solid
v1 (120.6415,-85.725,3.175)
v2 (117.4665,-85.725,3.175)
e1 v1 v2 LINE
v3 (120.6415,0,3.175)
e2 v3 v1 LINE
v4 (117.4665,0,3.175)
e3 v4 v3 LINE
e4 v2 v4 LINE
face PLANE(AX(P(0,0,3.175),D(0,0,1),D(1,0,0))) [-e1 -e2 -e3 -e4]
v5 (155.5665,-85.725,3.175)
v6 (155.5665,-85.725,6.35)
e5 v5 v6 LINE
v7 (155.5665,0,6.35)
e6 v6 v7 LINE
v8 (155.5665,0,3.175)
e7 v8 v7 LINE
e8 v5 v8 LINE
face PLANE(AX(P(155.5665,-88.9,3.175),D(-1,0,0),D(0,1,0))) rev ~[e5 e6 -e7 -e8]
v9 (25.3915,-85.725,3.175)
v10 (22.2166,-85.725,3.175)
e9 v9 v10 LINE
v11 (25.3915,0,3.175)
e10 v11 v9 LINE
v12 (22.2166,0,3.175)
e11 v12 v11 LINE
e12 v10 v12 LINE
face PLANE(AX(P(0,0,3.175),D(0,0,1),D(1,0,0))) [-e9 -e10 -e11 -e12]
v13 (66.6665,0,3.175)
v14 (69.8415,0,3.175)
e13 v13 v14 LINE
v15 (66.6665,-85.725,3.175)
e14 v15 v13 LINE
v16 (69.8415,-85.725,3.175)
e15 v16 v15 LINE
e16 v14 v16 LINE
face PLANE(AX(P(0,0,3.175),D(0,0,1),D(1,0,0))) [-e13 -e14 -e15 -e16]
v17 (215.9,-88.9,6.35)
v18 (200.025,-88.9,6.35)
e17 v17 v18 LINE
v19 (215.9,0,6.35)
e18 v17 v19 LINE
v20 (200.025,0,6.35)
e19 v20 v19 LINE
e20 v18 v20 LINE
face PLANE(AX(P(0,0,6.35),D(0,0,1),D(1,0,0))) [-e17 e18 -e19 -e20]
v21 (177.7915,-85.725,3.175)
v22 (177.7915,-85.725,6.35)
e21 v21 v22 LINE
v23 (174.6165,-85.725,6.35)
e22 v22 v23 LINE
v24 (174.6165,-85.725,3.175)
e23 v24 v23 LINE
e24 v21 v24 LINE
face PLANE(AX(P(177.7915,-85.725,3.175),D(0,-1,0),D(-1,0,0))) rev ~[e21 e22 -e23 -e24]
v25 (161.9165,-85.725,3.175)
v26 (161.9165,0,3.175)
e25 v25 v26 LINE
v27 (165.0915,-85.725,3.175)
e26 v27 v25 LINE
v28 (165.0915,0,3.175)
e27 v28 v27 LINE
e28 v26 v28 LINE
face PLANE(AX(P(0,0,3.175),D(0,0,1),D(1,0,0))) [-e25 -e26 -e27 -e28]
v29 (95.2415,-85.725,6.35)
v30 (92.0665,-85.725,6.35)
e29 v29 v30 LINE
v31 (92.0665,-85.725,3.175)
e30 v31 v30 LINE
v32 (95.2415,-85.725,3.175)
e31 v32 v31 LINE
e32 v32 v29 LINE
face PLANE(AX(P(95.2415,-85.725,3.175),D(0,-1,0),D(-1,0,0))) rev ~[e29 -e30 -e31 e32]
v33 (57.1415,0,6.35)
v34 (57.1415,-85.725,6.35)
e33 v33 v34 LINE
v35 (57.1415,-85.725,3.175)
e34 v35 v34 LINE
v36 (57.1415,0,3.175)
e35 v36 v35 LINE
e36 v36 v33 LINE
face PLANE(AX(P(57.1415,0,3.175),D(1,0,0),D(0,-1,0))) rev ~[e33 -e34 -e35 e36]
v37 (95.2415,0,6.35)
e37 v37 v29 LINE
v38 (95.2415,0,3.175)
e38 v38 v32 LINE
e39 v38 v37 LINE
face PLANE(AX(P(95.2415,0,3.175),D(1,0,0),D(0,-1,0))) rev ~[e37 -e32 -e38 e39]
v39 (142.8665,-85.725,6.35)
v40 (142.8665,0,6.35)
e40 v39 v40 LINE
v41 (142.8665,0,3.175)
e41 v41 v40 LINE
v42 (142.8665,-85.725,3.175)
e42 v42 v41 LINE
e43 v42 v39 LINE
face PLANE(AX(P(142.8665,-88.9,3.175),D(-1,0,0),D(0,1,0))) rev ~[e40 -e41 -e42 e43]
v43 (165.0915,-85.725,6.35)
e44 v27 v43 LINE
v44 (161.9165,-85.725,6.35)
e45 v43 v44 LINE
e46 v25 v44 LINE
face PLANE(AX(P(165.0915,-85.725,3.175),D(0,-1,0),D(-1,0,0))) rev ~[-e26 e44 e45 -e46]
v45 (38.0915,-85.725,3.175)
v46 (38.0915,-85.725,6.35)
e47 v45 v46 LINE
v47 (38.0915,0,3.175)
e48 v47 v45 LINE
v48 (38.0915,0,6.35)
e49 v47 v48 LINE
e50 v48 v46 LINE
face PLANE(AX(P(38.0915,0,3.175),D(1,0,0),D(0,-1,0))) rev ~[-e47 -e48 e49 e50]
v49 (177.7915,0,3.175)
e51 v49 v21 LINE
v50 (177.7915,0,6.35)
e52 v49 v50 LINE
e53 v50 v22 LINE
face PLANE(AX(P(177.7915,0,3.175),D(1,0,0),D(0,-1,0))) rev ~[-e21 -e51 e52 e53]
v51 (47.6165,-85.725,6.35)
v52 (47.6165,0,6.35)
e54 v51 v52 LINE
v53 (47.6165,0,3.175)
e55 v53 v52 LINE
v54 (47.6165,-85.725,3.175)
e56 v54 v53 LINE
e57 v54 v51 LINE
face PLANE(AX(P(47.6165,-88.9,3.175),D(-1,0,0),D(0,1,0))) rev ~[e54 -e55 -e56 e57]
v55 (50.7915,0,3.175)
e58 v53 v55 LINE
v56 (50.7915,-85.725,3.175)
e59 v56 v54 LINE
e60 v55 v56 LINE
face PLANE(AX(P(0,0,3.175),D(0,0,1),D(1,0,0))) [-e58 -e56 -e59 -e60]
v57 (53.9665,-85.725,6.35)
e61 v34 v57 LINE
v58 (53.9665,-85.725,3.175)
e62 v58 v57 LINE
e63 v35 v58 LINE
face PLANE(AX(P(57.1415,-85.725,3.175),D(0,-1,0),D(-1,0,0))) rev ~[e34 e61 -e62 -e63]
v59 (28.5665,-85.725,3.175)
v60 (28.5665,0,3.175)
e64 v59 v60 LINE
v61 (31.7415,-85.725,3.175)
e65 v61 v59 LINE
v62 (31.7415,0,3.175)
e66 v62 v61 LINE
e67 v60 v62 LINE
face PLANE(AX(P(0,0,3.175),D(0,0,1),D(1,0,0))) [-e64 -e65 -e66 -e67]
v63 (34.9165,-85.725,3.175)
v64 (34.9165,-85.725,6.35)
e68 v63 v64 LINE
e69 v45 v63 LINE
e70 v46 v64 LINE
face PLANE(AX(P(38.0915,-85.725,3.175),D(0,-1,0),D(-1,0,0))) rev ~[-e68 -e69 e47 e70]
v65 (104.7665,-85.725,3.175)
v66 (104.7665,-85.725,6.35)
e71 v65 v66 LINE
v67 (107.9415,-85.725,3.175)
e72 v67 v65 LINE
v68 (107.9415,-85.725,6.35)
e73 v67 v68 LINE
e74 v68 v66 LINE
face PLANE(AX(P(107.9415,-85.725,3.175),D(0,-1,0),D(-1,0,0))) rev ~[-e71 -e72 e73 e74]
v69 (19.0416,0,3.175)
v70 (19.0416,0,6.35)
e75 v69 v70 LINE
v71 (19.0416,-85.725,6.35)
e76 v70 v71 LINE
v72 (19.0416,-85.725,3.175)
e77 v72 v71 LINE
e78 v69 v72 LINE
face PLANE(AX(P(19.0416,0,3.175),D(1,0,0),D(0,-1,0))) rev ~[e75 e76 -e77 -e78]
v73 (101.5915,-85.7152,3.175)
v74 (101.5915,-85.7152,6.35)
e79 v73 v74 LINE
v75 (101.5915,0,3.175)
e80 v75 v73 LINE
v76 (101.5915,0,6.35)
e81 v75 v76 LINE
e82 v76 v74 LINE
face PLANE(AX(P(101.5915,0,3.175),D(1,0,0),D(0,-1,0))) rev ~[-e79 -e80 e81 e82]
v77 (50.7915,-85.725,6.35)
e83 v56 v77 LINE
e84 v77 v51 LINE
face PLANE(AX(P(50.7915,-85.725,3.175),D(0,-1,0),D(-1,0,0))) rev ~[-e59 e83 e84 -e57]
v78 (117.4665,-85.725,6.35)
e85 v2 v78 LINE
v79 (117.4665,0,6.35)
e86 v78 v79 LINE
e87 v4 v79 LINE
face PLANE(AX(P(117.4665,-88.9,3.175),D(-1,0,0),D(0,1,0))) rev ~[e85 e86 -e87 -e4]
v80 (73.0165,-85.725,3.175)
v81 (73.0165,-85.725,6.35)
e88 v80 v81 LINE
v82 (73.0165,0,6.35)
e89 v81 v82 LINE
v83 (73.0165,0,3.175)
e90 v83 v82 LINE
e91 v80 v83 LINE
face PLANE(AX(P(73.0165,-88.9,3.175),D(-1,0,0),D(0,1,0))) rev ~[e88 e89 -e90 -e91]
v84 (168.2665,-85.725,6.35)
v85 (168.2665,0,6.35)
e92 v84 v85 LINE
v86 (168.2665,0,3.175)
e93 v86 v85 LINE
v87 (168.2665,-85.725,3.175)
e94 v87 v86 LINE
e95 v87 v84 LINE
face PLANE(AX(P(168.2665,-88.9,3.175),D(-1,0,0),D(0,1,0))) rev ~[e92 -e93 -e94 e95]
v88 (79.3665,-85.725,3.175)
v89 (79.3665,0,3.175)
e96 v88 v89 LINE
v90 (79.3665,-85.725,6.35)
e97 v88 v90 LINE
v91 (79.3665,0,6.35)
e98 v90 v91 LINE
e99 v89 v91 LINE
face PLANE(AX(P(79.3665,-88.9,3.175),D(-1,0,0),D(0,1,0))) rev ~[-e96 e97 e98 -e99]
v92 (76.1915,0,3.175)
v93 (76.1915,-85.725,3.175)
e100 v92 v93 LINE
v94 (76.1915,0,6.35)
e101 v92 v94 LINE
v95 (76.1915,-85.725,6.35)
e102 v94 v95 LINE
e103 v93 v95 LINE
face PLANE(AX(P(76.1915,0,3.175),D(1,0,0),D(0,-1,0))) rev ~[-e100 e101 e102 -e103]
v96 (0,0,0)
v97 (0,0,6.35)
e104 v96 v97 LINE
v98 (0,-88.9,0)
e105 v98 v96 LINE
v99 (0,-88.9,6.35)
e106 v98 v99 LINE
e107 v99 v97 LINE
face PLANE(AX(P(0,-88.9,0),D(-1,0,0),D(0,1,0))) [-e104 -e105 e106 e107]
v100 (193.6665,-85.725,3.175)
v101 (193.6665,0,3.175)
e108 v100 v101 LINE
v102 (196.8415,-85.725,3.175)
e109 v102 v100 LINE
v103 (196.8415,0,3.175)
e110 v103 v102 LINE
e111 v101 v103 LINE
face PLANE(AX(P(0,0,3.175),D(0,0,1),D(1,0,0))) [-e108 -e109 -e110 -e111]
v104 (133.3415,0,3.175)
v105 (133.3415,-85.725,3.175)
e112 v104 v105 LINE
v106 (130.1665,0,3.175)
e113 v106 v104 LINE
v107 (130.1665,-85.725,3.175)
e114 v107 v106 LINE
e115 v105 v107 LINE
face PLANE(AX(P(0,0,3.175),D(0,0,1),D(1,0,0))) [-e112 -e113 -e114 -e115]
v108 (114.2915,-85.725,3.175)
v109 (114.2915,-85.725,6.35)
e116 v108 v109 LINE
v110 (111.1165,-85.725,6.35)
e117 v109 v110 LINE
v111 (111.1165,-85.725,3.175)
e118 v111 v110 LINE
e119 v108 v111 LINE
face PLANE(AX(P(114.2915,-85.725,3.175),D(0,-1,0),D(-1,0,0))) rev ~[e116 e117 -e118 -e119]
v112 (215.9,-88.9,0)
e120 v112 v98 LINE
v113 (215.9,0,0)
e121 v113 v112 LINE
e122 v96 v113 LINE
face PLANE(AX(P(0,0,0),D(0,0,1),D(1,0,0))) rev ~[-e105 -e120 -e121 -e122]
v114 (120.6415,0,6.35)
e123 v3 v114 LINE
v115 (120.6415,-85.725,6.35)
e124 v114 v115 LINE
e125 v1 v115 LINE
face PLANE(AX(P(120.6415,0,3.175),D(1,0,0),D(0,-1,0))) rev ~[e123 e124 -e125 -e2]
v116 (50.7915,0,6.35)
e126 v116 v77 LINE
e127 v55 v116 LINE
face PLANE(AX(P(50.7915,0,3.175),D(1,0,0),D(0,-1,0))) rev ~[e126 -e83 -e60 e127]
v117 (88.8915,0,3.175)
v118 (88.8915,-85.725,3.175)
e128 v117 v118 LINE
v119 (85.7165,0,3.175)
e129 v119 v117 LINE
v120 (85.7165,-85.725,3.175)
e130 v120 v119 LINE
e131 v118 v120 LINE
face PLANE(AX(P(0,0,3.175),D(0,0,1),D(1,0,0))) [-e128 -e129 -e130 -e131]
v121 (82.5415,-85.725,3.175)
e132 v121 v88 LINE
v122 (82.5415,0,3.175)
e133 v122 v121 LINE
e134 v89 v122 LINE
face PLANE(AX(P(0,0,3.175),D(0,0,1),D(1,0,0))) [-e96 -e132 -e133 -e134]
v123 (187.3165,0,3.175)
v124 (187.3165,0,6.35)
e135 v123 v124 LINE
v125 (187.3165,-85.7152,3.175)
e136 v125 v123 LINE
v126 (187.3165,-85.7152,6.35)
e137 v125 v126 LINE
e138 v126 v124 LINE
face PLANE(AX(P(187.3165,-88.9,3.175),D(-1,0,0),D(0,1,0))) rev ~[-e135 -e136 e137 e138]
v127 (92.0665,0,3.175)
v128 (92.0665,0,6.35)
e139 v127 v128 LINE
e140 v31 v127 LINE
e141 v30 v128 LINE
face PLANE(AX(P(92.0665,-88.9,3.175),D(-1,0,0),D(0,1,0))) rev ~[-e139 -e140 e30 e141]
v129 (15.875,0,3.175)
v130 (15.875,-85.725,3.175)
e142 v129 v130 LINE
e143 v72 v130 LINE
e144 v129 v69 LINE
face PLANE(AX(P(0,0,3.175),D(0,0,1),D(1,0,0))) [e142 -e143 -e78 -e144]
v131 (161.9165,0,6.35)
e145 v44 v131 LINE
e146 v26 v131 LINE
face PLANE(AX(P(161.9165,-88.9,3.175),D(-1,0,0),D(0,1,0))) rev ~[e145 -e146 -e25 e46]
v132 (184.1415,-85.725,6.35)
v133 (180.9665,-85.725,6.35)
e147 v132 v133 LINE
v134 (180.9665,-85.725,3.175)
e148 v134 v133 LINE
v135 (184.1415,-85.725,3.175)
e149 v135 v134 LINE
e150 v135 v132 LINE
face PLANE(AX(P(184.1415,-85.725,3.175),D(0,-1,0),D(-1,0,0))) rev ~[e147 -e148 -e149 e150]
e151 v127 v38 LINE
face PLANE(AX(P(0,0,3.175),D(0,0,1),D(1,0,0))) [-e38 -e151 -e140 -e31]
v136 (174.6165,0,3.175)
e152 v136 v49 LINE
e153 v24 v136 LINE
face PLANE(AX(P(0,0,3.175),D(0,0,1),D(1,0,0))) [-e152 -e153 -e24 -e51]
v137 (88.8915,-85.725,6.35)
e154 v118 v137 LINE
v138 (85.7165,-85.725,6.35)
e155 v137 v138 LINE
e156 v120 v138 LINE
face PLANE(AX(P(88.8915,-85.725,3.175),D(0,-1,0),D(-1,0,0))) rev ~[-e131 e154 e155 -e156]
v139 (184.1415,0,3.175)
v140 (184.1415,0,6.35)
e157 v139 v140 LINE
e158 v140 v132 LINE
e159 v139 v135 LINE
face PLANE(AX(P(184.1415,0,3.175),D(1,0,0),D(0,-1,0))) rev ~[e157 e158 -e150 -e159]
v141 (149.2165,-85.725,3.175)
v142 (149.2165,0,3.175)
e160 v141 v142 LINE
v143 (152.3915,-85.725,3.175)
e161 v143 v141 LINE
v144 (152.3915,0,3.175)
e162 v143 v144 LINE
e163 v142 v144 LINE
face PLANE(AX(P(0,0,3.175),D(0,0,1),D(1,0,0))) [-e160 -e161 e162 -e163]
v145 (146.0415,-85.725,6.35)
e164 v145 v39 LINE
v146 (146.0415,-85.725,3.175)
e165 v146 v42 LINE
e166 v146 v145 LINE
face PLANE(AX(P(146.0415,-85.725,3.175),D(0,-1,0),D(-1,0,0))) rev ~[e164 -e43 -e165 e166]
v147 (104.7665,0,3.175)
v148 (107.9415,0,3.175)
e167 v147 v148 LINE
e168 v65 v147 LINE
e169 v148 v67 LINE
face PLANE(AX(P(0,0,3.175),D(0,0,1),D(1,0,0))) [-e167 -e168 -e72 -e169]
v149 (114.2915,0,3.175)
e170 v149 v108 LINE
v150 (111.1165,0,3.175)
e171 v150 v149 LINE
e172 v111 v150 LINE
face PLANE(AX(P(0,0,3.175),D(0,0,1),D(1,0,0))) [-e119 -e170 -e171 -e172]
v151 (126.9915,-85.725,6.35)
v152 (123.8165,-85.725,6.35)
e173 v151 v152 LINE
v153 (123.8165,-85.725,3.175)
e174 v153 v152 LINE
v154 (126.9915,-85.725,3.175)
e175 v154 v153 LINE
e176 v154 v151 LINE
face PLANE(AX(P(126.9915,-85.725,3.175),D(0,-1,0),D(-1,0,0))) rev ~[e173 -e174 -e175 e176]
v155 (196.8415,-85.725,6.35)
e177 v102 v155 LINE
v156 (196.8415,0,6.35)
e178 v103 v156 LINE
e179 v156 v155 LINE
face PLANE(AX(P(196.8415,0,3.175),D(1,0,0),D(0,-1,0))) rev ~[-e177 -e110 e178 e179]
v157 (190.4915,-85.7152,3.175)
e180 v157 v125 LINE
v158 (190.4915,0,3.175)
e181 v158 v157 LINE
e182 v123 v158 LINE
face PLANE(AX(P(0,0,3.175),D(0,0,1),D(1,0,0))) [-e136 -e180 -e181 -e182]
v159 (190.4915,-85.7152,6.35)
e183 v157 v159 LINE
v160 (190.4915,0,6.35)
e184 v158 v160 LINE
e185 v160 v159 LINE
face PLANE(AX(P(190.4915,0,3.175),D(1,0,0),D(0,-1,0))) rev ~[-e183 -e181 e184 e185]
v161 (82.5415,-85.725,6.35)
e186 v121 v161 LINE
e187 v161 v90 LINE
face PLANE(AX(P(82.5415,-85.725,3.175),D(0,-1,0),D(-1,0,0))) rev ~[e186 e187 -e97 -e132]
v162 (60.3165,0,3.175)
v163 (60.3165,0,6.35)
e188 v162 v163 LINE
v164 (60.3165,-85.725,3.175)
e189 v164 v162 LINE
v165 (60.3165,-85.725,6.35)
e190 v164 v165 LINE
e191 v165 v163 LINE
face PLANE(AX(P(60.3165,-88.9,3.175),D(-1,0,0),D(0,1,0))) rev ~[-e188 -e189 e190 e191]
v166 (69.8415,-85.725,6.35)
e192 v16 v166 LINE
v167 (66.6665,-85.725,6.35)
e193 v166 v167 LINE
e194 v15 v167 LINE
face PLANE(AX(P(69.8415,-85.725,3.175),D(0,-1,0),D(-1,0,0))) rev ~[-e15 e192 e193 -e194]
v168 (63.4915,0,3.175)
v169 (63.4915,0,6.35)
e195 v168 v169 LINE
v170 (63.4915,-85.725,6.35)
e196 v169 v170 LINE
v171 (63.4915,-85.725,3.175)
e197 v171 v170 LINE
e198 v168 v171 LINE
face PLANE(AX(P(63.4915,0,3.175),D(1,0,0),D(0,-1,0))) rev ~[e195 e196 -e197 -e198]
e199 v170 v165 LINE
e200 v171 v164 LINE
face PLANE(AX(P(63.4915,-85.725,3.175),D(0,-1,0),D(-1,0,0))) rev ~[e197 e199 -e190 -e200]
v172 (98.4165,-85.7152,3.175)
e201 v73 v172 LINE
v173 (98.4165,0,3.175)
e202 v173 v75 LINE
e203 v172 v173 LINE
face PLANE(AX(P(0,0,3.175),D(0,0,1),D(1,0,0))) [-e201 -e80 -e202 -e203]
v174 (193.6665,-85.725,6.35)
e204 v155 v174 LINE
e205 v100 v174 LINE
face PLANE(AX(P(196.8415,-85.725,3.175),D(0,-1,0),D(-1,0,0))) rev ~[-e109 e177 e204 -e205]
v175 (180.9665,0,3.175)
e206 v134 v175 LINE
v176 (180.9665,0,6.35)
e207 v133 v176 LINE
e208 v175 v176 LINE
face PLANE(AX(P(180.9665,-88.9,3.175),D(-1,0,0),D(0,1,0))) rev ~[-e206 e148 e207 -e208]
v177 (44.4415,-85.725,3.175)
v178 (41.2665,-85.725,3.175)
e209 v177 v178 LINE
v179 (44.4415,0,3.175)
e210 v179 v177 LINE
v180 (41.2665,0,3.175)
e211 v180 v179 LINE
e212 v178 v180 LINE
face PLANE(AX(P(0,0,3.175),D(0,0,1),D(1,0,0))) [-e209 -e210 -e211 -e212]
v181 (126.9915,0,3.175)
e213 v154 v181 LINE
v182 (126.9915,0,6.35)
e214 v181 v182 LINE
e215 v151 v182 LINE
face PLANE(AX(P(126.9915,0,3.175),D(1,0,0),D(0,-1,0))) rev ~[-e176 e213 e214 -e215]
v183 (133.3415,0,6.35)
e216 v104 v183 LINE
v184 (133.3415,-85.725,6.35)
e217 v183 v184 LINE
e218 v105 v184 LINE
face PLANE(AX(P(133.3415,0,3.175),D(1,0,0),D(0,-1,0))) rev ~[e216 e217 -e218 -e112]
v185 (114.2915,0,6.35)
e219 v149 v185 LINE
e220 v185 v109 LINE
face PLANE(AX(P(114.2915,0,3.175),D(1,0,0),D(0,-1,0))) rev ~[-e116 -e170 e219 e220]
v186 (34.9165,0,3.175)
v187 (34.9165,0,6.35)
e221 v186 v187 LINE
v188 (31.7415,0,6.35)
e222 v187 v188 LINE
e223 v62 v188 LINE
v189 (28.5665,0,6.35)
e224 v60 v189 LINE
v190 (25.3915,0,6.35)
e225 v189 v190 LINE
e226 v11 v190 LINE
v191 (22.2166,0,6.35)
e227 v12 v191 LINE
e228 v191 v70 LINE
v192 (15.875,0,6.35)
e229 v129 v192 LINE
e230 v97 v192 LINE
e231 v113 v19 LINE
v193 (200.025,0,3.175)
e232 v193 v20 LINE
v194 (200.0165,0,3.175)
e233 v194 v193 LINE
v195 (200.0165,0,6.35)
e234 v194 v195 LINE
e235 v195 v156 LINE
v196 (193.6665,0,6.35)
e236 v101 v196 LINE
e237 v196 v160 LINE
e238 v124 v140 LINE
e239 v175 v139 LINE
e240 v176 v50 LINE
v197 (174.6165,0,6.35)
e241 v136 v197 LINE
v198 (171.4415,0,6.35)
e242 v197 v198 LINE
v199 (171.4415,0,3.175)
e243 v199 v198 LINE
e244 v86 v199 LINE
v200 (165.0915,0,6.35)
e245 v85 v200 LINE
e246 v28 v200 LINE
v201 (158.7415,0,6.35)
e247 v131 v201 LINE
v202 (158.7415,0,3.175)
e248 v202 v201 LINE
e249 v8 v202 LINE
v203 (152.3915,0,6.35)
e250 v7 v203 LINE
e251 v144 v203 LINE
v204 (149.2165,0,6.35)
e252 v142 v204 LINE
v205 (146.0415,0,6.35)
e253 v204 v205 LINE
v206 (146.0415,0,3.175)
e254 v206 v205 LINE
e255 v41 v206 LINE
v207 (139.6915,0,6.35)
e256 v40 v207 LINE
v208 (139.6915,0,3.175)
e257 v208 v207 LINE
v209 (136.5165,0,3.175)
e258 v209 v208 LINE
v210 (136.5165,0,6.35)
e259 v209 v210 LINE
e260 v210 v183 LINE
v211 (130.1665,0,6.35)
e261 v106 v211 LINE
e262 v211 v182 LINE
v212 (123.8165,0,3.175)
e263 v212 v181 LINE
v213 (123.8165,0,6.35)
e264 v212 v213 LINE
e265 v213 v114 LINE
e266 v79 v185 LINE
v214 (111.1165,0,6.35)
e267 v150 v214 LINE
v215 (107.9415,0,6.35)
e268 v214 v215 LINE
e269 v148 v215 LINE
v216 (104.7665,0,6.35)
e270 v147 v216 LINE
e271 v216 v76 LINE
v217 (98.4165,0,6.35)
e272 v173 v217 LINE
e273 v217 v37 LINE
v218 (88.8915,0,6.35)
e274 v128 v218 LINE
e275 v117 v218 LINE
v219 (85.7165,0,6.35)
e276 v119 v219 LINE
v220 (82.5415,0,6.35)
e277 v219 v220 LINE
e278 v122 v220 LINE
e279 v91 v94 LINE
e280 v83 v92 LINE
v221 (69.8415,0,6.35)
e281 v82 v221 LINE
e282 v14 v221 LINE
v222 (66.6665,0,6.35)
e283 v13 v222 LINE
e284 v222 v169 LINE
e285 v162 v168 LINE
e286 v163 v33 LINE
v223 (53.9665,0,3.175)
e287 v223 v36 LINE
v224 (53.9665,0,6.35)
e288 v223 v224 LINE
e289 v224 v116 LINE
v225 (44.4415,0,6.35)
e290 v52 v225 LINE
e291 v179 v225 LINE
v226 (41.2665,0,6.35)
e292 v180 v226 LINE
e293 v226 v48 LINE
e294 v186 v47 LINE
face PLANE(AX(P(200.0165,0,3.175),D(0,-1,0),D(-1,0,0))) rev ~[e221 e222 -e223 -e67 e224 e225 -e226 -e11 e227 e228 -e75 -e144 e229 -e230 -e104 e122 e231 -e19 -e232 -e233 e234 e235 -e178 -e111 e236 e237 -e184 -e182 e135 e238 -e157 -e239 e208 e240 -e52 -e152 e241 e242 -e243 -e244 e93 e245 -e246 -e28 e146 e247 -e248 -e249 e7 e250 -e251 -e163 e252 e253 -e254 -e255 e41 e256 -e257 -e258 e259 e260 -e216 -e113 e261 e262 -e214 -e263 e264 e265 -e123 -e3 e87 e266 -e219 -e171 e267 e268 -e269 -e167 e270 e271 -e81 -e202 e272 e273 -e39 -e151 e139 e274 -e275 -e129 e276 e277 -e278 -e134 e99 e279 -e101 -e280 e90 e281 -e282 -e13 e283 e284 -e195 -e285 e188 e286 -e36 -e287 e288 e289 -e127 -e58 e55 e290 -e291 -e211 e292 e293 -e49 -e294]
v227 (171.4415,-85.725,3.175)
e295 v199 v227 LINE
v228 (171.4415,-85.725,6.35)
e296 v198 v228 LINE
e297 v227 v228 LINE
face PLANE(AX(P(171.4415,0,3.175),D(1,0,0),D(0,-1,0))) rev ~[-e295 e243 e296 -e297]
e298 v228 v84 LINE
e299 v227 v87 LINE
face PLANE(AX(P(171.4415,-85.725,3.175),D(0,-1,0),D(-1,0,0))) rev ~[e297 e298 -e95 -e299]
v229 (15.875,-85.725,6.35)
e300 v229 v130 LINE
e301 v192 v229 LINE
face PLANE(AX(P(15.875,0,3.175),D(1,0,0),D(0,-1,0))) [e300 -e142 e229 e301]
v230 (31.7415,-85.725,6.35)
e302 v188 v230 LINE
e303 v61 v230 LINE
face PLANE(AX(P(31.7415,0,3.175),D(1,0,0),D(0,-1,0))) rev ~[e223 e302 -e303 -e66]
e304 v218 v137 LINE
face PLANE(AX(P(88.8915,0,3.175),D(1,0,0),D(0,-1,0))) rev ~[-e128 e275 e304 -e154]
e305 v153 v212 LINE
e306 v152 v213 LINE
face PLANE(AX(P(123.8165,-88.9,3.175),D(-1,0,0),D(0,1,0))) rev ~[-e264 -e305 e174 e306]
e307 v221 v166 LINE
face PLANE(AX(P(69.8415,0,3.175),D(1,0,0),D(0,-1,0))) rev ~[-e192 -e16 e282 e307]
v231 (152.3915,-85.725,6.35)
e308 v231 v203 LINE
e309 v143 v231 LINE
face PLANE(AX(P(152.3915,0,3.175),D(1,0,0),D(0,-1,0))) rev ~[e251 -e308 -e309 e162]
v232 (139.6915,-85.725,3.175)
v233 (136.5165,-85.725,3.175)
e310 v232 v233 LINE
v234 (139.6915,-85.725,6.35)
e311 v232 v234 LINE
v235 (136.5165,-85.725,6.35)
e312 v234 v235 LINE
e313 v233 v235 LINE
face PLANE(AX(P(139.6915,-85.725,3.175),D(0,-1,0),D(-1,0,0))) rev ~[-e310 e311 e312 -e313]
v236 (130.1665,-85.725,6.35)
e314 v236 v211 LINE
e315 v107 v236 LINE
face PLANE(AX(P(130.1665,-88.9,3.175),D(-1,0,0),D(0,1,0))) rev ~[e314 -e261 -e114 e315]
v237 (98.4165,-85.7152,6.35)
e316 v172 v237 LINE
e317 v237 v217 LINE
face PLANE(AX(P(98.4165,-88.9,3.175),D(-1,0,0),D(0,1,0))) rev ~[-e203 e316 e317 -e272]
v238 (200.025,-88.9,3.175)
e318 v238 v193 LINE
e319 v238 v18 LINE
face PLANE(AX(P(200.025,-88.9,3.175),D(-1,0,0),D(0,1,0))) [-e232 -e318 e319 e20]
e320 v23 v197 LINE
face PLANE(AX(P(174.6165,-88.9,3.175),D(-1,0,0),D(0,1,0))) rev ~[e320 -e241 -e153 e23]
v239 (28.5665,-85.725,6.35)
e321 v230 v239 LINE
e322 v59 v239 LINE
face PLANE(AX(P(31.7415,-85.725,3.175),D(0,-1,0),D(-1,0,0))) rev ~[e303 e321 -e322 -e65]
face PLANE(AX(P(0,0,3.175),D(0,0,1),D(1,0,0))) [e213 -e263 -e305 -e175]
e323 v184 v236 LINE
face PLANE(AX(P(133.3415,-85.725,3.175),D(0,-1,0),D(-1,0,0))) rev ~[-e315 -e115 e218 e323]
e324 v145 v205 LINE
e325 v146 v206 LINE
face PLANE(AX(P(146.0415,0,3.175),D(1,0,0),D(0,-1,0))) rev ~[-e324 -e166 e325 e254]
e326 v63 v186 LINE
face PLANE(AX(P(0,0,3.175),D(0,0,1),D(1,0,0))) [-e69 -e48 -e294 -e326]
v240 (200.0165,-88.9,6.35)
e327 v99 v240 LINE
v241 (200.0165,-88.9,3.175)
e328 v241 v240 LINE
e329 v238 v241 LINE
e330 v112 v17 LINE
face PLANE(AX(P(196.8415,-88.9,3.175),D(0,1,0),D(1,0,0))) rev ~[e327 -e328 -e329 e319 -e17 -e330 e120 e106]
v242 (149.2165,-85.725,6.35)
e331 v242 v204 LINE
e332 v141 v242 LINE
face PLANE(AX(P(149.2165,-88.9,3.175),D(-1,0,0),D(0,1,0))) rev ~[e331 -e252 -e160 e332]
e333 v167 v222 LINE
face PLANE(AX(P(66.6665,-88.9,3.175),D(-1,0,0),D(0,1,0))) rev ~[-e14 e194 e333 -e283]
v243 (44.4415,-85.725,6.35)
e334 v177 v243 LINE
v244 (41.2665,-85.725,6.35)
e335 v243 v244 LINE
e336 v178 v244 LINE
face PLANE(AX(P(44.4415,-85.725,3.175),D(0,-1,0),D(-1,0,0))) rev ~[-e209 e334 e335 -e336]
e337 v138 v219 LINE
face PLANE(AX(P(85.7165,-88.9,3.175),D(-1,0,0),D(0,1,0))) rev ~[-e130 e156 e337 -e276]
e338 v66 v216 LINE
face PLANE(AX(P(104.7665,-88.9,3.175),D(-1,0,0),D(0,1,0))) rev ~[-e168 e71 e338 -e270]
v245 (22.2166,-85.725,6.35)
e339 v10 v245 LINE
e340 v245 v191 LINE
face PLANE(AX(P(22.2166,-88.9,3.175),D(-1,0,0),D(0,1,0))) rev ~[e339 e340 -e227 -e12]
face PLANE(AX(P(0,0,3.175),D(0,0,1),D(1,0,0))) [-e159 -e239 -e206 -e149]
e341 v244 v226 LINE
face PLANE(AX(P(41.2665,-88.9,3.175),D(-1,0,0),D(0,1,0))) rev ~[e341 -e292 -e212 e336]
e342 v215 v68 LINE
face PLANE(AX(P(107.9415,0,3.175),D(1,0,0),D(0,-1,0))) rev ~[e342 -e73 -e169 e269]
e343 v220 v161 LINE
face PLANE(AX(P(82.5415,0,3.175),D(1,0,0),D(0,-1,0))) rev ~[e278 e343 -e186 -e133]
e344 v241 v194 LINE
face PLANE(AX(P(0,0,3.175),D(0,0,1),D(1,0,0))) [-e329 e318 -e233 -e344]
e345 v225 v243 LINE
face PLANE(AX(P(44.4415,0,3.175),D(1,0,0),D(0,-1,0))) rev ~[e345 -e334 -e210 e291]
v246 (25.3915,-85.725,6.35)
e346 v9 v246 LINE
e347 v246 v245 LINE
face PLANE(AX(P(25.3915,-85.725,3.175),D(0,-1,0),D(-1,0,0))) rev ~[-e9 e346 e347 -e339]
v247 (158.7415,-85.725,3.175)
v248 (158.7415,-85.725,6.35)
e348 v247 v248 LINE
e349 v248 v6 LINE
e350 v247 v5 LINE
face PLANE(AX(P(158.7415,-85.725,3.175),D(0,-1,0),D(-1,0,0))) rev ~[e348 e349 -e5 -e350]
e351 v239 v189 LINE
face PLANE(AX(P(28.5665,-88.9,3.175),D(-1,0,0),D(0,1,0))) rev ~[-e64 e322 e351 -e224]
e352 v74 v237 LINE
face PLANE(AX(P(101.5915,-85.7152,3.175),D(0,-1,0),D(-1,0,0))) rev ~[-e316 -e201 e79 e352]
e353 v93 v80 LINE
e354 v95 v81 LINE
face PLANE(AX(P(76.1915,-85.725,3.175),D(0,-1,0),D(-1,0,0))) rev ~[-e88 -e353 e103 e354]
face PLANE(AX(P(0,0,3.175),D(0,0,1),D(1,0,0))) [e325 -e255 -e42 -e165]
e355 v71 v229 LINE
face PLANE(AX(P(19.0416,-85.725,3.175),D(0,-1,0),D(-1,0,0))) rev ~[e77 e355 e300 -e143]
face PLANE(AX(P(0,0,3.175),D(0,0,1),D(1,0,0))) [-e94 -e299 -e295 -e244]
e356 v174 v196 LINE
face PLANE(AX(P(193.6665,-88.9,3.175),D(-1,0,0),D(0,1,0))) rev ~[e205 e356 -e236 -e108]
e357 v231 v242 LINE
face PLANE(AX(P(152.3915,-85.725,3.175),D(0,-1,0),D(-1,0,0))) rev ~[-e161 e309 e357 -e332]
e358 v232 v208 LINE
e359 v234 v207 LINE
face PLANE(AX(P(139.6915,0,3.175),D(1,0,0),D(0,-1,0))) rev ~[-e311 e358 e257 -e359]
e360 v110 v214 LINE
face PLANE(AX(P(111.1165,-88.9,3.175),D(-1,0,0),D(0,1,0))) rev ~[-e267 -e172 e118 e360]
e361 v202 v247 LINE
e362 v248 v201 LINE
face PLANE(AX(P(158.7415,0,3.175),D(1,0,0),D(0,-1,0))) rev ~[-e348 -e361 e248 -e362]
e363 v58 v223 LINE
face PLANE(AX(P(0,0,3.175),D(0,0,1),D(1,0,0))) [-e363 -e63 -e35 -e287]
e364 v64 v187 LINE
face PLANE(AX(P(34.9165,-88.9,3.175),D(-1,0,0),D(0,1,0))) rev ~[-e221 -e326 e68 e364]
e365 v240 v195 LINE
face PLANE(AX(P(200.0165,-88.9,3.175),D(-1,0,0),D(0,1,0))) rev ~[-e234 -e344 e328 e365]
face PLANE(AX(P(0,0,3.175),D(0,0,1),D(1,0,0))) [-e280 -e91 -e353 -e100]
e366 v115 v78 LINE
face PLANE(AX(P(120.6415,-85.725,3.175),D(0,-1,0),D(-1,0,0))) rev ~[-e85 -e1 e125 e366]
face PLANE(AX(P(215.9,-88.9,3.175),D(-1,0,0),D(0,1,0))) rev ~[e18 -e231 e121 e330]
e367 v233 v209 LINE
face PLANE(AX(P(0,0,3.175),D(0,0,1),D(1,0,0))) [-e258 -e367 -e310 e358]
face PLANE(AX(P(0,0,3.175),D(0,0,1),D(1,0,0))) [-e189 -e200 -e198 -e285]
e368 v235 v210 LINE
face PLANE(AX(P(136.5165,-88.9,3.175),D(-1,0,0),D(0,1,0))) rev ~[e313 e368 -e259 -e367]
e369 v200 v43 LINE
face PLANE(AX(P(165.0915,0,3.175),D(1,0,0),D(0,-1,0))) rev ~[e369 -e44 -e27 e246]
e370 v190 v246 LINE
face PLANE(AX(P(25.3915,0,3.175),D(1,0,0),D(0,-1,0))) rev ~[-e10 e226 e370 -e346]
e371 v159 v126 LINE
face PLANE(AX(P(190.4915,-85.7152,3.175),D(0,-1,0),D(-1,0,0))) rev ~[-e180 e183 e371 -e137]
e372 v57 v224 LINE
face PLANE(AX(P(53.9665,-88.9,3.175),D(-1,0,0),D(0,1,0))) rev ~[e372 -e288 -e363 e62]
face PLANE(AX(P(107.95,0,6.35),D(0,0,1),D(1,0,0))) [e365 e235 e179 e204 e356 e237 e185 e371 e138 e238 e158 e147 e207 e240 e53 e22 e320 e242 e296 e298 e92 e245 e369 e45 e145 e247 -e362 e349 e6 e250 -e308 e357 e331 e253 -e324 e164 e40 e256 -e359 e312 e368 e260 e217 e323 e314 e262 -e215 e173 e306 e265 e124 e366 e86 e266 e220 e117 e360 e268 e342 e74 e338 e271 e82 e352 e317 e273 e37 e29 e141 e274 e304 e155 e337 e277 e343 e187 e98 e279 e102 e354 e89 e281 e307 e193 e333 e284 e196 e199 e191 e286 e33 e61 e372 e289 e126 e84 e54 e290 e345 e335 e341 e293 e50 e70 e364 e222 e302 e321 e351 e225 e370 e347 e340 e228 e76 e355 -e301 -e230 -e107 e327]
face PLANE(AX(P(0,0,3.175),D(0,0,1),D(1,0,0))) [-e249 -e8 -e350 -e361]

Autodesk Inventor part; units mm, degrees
ref_plane "YZ Plane" through (0, 0, 0) normal (1, 0, 0) x (0, 1, 0)
ref_plane "XZ Plane" through (0, 0, 0) normal (0, 1, 0) x (-1, 0, 0)
ref_plane "XY Plane" through (0, 0, 0) normal (0, 0, 1) x (1, 0, 0)
sketch "Sketch1" plane through (0, 0, 0) normal (0, 0, 1) x (1, 0, 0)
  line L0 (0, 0) -> (215.9, 0)
  line L1 (215.9, 0) -> (215.9, -88.9)
  line L2 (215.9, -88.9) -> (0, -88.9)
  line L3 (0, -88.9) -> (0, 0)
  dimension "d0" = 215.9
  dimension "d1" = 88.9
extrude "Extrusion1" add sketch "Sketch1" along normal blind 3.175
sketch "Sketch2" plane through (0, 0, 3.175) normal (0, 0, 1) x (1, 0, 0)
  line L0 (0, 0) -> (15.875, 0)
  line L1 (15.875, 0) -> (15.875, -88.9)
  line L2 (15.875, -88.9) -> (0, -88.9)
  line L3 (0, -88.9) -> (0, 0)
  dimension "d4" = 15.875
  dimension "d5" = 88.9
extrude "Extrusion2" add sketch "Sketch2" along normal blind 3.175
sketch "Sketch3" plane through (0, 0, 3.175) normal (0, 0, 1) x (1, 0, 0)
  line L0 (215.9, -88.9) -> (0, -88.9) projected
  line L1 (15.8666, -88.9) -> (19.0416, -88.9)
  line L2 (19.0416, -88.9) -> (19.0416, -85.725)
  line L3 (19.0416, -85.725) -> (15.8666, -85.725)
  line L4 (15.8666, -85.725) -> (15.8666, -88.9)
  point P0 (0, 0)
  dimension "d8" = 3.175
  dimension "d9" = 3.175
extrude "Extrusion3" add sketch "Sketch3" along normal blind 3.175
sketch "Sketch4" plane through (0, 0, 3.175) normal (0, 0, 1) x (1, 0, 0)
  line L0 (19.0416, -85.725) -> (19.0416, -88.9) projected
  line L1 (19.0416, -88.9) -> (22.2166, -88.9)
  line L2 (22.2166, -88.9) -> (22.2166, 0)
  line L3 (22.2166, 0) -> (19.0416, 0)
  line L4 (19.0416, 0) -> (19.0416, -88.9)
  point P0 (0, 0)
  dimension "d12" = 3.175
  dimension "d13" = 88.9
extrude "Extrusion4" add sketch "Sketch4" along normal blind 3.175
sketch "Sketch5" plane through (0, 0, 3.175) normal (0, 0, 1) x (1, 0, 0)
  line L0 (215.9, -88.9) -> (0, -88.9) projected
  line L1 (22.2165, -88.9) -> (25.3915, -88.9)
  line L2 (25.3915, -88.9) -> (25.3915, -85.725)
  line L3 (25.3915, -85.725) -> (22.2165, -85.725)
  line L4 (22.2165, -85.725) -> (22.2165, -88.9)
  point P0 (0, 0)
  dimension "d16" = 3.175
  dimension "d17" = 3.175
extrude "Extrusion5" add sketch "Sketch5" along normal blind 3.175
sketch "Sketch6" plane through (0, 0, 3.175) normal (0, 0, 1) x (1, 0, 0)
  point P0 (0, 0)
sketch "Sketch7" plane through (0, 0, 3.175) normal (0, 0, 1) x (1, 0, 0)
  line L0 (25.3915, -85.725) -> (25.3915, -88.9) projected
  line L1 (25.3915, -88.9) -> (28.5665, -88.9)
  line L2 (28.5665, -88.9) -> (28.5665, 0)
  line L3 (28.5665, 0) -> (25.3915, 0)
  line L4 (25.3915, 0) -> (25.3915, -88.9)
  point P0 (0, 0)
  dimension "d20" = 3.175
  dimension "d21" = 88.9
extrude "Extrusion6" add sketch "Sketch7" along normal blind 3.175
sketch "Sketch8" plane through (0, 0, 3.175) normal (0, 0, 1) x (1, 0, 0)
  line L0 (28.5665, 0) -> (28.5665, -88.9) projected
  line L1 (28.5665, -88.9) -> (31.7415, -88.9)
  line L2 (31.7415, -88.9) -> (31.7415, -85.725)
  line L3 (31.7415, -85.725) -> (28.5665, -85.725)
  line L4 (28.5665, -85.725) -> (28.5665, -88.9)
  point P0 (0, 0)
  dimension "d24" = 3.175
  dimension "d25" = 3.175
extrude "Extrusion7" add sketch "Sketch8" along normal blind 3.175
sketch "Sketch9" plane through (0, 0, 3.175) normal (0, 0, 1) x (1, 0, 0)
  line L0 (31.7415, -85.725) -> (31.7415, -88.9) projected
  line L1 (31.7415, -88.9) -> (34.9165, -88.9)
  line L2 (34.9165, -88.9) -> (34.9165, 0)
  line L3 (34.9165, 0) -> (31.7415, 0)
  line L4 (31.7415, 0) -> (31.7415, -88.9)
  point P0 (0, 0)
  dimension "d28" = 3.175
  dimension "d29" = 88.9
extrude "Extrusion8" add sketch "Sketch9" along normal blind 3.175
sketch "Sketch10" plane through (0, 0, 3.175) normal (0, 0, 1) x (1, 0, 0)
  line L0 (215.9, -88.9) -> (215.9, 0) projected
  line L1 (215.9, -88.9) -> (200.025, -88.9)
  line L2 (200.025, -88.9) -> (200.025, 0)
  line L3 (200.025, 0) -> (215.9, 0)
  line L4 (215.9, 0) -> (215.9, -88.9)
  point P0 (0, 0)
  dimension "d32" = 15.875
  dimension "d33" = 88.9
extrude "Extrusion9" add sketch "Sketch10" along normal blind 3.175
sketch "Sketch11" plane through (0, 0, 3.175) normal (0, 0, 1) x (1, 0, 0)
  line L0 (34.9165, 0) -> (34.9165, -88.9) projected
  line L1 (34.9165, -88.9) -> (38.0915, -88.9)
  line L2 (38.0915, -88.9) -> (38.0915, -85.725)
  line L3 (38.0915, -85.725) -> (34.9165, -85.725)
  line L4 (34.9165, -85.725) -> (34.9165, -88.9)
  point P0 (0, 0)
  dimension "d36" = 3.175
  dimension "d37" = 3.175
extrude "Extrusion10" add sketch "Sketch11" along normal blind 3.175
sketch "Sketch12" plane through (0, 0, 3.175) normal (0, 0, 1) x (1, 0, 0)
  line L0 (38.0915, -88.9) -> (200.025, -88.9) projected
  line L1 (38.0915, -88.9) -> (41.2665, -88.9)
  line L2 (41.2665, -88.9) -> (41.2665, 0)
  line L3 (41.2665, 0) -> (38.0915, 0)
  line L4 (38.0915, 0) -> (38.0915, -88.9)
  point P0 (0, 0)
  dimension "d40" = 3.175
  dimension "d41" = 88.9
extrude "Extrusion11" add sketch "Sketch12" along normal blind 3.175
sketch "Sketch13" plane through (0, 0, 3.175) normal (0, 0, 1) x (1, 0, 0)
  line L0 (41.2665, -88.9) -> (200.025, -88.9) projected
  line L1 (41.2665, -88.9) -> (44.4415, -88.9)
  line L2 (44.4415, -88.9) -> (44.4415, -85.725)
  line L3 (44.4415, -85.725) -> (41.2665, -85.725)
  line L4 (41.2665, -85.725) -> (41.2665, -88.9)
  point P0 (0, 0)
  dimension "d44" = 3.175
  dimension "d45" = 3.175
extrude "Extrusion12" add sketch "Sketch13" along normal blind 3.175
sketch "Sketch14" plane through (0, 0, 3.175) normal (0, 0, 1) x (1, 0, 0)
  line L0 (44.4415, -88.9) -> (47.6165, -88.9)
  line L1 (47.6165, -88.9) -> (47.6165, 0)
  line L2 (47.6165, 0) -> (44.4415, 0)
  line L3 (44.4415, 0) -> (44.4415, -88.9)
  point P0 (0, 0)
  dimension "d48" = 3.175
  dimension "d49" = 88.9
extrude "Extrusion13" add sketch "Sketch14" along normal blind 3.175
sketch "Sketch15" plane through (0, 0, 3.175) normal (0, 0, 1) x (1, 0, 0)
  line L0 (47.6165, -88.9) -> (200.025, -88.9) projected
  line L1 (47.6165, -88.9) -> (50.7915, -88.9)
  line L2 (50.7915, -88.9) -> (50.7915, -85.725)
  line L3 (50.7915, -85.725) -> (47.6165, -85.725)
  line L4 (47.6165, -85.725) -> (47.6165, -88.9)
  point P0 (0, 0)
  dimension "d52" = 3.175
  dimension "d53" = 3.175
extrude "Extrusion14" add sketch "Sketch15" along normal blind 3.175
sketch "Sketch16" plane through (0, 0, 3.175) normal (0, 0, 1) x (1, 0, 0)
  line L0 (50.7915, -88.9) -> (200.025, -88.9) projected
  line L1 (50.7915, -88.9) -> (53.9665, -88.9)
  line L2 (53.9665, -88.9) -> (53.9665, 0)
  line L3 (53.9665, 0) -> (50.7915, 0)
  line L4 (50.7915, 0) -> (50.7915, -88.9)
  point P0 (0, 0)
  dimension "d56" = 3.175
  dimension "d57" = 88.9
extrude "Extrusion15" add sketch "Sketch16" along normal blind 3.175
sketch "Sketch17" plane through (0, 0, 3.175) normal (0, 0, 1) x (1, 0, 0)
  line L0 (53.9665, -88.9) -> (200.025, -88.9) projected
  line L1 (53.9665, -88.9) -> (57.1415, -88.9)
  line L2 (57.1415, -88.9) -> (57.1415, -85.725)
  line L3 (57.1415, -85.725) -> (53.9665, -85.725)
  line L4 (53.9665, -85.725) -> (53.9665, -88.9)
  point P0 (0, 0)
  dimension "d60" = 3.175
  dimension "d61" = 3.175
extrude "Extrusion16" add sketch "Sketch17" along normal blind 3.175
sketch "Sketch18" plane through (0, 0, 3.175) normal (0, 0, 1) x (1, 0, 0)
  line L0 (57.1415, -85.725) -> (57.1415, -88.9) projected
  line L1 (57.1415, -88.9) -> (60.3165, -88.9)
  line L2 (60.3165, -88.9) -> (60.3165, 0)
  line L3 (60.3165, 0) -> (57.1415, 0)
  line L4 (57.1415, 0) -> (57.1415, -88.9)
  point P0 (0, 0)
  dimension "d64" = 3.175
  dimension "d65" = 88.9
extrude "Extrusion17" add sketch "Sketch18" along normal blind 3.175
sketch "Sketch19" plane through (0, 0, 3.175) normal (0, 0, 1) x (1, 0, 0)
  line L0 (60.3165, -88.9) -> (200.025, -88.9) projected
  line L1 (60.3165, -88.9) -> (63.4915, -88.9)
  line L2 (63.4915, -88.9) -> (63.4915, -85.725)
  line L3 (63.4915, -85.725) -> (60.3165, -85.725)
  line L4 (60.3165, -85.725) -> (60.3165, -88.9)
  point P0 (0, 0)
  dimension "d68" = 3.175
  dimension "d69" = 3.175
extrude "Extrusion18" add sketch "Sketch19" along normal blind 3.175
sketch "Sketch20" plane through (0, 0, 3.175) normal (0, 0, 1) x (1, 0, 0)
  line L0 (63.4915, -85.725) -> (63.4915, -88.9) projected
  line L1 (63.4915, -88.9) -> (66.6665, -88.9)
  line L2 (66.6665, -88.9) -> (66.6665, 0)
  line L3 (66.6665, 0) -> (63.4915, 0)
  line L4 (63.4915, 0) -> (63.4915, -88.9)
  point P0 (0, 0)
  dimension "d72" = 3.175
  dimension "d73" = 88.9
extrude "Extrusion19" add sketch "Sketch20" along normal blind 3.175
sketch "Sketch21" plane through (0, 0, 3.175) normal (0, 0, 1) x (1, 0, 0)
  line L0 (66.6665, -88.9) -> (200.025, -88.9) projected
  line L1 (66.6665, -88.9) -> (69.8415, -88.9)
  line L2 (69.8415, -88.9) -> (69.8415, -85.725)
  line L3 (69.8415, -85.725) -> (66.6665, -85.725)
  line L4 (66.6665, -85.725) -> (66.6665, -88.9)
  point P0 (0, 0)
  dimension "d76" = 3.175
  dimension "d77" = 3.175
extrude "Extrusion20" add sketch "Sketch21" along normal blind 3.175
sketch "Sketch22" plane through (0, 0, 3.175) normal (0, 0, 1) x (1, 0, 0)
  line L0 (69.8415, -88.9) -> (200.025, -88.9) projected
  line L1 (69.8415, -88.9) -> (73.0165, -88.9)
  line L2 (73.0165, -88.9) -> (73.0165, 0)
  line L3 (73.0165, 0) -> (69.8415, 0)
  line L4 (69.8415, 0) -> (69.8415, -88.9)
  point P0 (0, 0)
  dimension "d80" = 3.175
  dimension "d81" = 88.9
extrude "Extrusion21" add sketch "Sketch22" along normal blind 3.175
sketch "Sketch23" plane through (0, 0, 3.175) normal (0, 0, 1) x (1, 0, 0)
  line L0 (73.0165, -88.9) -> (200.025, -88.9) projected
  line L1 (73.0165, -88.9) -> (76.1915, -88.9)
  line L2 (76.1915, -88.9) -> (76.1915, -85.725)
  line L3 (76.1915, -85.725) -> (73.0165, -85.725)
  line L4 (73.0165, -85.725) -> (73.0165, -88.9)
  point P0 (0, 0)
  dimension "d84" = 3.175
  dimension "d85" = 3.175
extrude "Extrusion22" add sketch "Sketch23" along normal blind 3.175
sketch "Sketch24" plane through (0, 0, 3.175) normal (0, 0, 1) x (1, 0, 0)
  line L0 (76.1915, -88.9) -> (200.025, -88.9) projected
  line L1 (76.1915, -88.9) -> (79.3665, -88.9)
  line L2 (79.3665, -88.9) -> (79.3665, 0)
  line L3 (79.3665, 0) -> (76.1915, 0)
  line L4 (76.1915, 0) -> (76.1915, -88.9)
  point P0 (0, 0)
  dimension "d88" = 3.175
  dimension "d89" = 88.9
extrude "Extrusion23" add sketch "Sketch24" along normal blind 3.175
sketch "Sketch25" plane through (0, 0, 3.175) normal (0, 0, 1) x (1, 0, 0)
  line L0 (79.3665, -88.9) -> (82.5415, -88.9)
  line L1 (82.5415, -88.9) -> (82.5415, -85.725)
  line L2 (82.5415, -85.725) -> (79.3665, -85.725)
  line L3 (79.3665, -85.725) -> (79.3665, -88.9)
  point P0 (0, 0)
  dimension "d92" = 3.175
  dimension "d93" = 3.175
extrude "Extrusion24" add sketch "Sketch25" along normal blind 3.175
sketch "Sketch26" plane through (0, 0, 3.175) normal (0, 0, 1) x (1, 0, 0)
  line L0 (82.5415, -85.725) -> (82.5415, -88.9) projected
  line L1 (82.5415, -88.9) -> (85.7165, -88.9)
  line L2 (85.7165, -88.9) -> (85.7165, 0)
  line L3 (85.7165, 0) -> (82.5415, 0)
  line L4 (82.5415, 0) -> (82.5415, -88.9)
  point P0 (0, 0)
  dimension "d96" = 3.175
  dimension "d97" = 88.9
extrude "Extrusion25" add sketch "Sketch26" along normal blind 3.175
sketch "Sketch27" plane through (0, 0, 3.175) normal (0, 0, 1) x (1, 0, 0)
  line L0 (85.7165, -88.9) -> (200.025, -88.9) projected
  line L1 (85.7165, -88.9) -> (88.8915, -88.9)
  line L2 (88.8915, -88.9) -> (88.8915, -85.725)
  line L3 (88.8915, -85.725) -> (85.7165, -85.725)
  line L4 (85.7165, -85.725) -> (85.7165, -88.9)
  point P0 (0, 0)
  dimension "d100" = 3.175
  dimension "d101" = 3.175
extrude "Extrusion26" add sketch "Sketch27" along normal blind 3.175
sketch "Sketch28" plane through (0, 0, 3.175) normal (0, 0, 1) x (1, 0, 0)
  line L0 (88.8915, -88.9) -> (200.025, -88.9) projected
  line L1 (88.8915, -88.9) -> (92.0665, -88.9)
  line L2 (92.0665, -88.9) -> (92.0665, 0)
  line L3 (92.0665, 0) -> (88.8915, 0)
  line L4 (88.8915, 0) -> (88.8915, -88.9)
  point P0 (0, 0)
  dimension "d104" = 3.175
  dimension "d105" = 88.9
extrude "Extrusion27" add sketch "Sketch28" along normal blind 3.175
sketch "Sketch29" plane through (0, 0, 3.175) normal (0, 0, 1) x (1, 0, 0)
  line L0 (92.0665, -88.9) -> (200.025, -88.9) projected
  line L1 (92.0665, -88.9) -> (95.2415, -88.9)
  line L2 (95.2415, -88.9) -> (95.2415, -85.725)
  line L3 (95.2415, -85.725) -> (92.0665, -85.725)
  line L4 (92.0665, -85.725) -> (92.0665, -88.9)
  point P0 (0, 0)
  dimension "d108" = 3.175
  dimension "d109" = 3.175
extrude "Extrusion28" add sketch "Sketch29" along normal blind 3.175
sketch "Sketch30" plane through (0, 0, 3.175) normal (0, 0, 1) x (1, 0, 0)
  line L0 (95.2415, -85.725) -> (95.2415, -88.9) projected
  line L1 (95.2415, -88.9) -> (98.4165, -88.9)
  line L2 (98.4165, -88.9) -> (98.4165, 0)
  line L3 (98.4165, 0) -> (95.2415, 0)
  line L4 (95.2415, 0) -> (95.2415, -88.9)
  point P0 (0, 0)
  dimension "d112" = 3.175
  dimension "d113" = 88.9
extrude "Extrusion29" add sketch "Sketch30" along normal blind 3.175
sketch "Sketch31" plane through (0, 0, 3.175) normal (0, 0, 1) x (1, 0, 0)
  line L0 (98.4165, -88.9) -> (200.025, -88.9) projected
  line L1 (98.4165, -88.9) -> (101.5915, -88.9)
  line L2 (101.5915, -88.9) -> (101.5915, -85.7152)
  line L3 (101.5915, -85.7152) -> (98.4165, -85.7152)
  line L4 (98.4165, -85.7152) -> (98.4165, -88.9)
  point P0 (0, 0)
  dimension "d116" = 3.175
extrude "Extrusion30" add sketch "Sketch31" along normal blind 3.175
sketch "Sketch32" plane through (0, 0, 3.175) normal (0, 0, 1) x (1, 0, 0)
  line L0 (101.5915, -85.7152) -> (101.5915, -88.9) projected
  line L1 (101.5915, -88.9) -> (104.7665, -88.9)
  line L2 (104.7665, -88.9) -> (104.7665, 0)
  line L3 (104.7665, 0) -> (101.5915, 0)
  line L4 (101.5915, 0) -> (101.5915, -88.9)
  point P0 (0, 0)
  dimension "d119" = 3.175
  dimension "d120" = 88.9
extrude "Extrusion31" add sketch "Sketch32" along normal blind 3.175
sketch "Sketch33" plane through (0, 0, 3.175) normal (0, 0, 1) x (1, 0, 0)
  line L0 (104.7665, -88.9) -> (200.025, -88.9) projected
  line L1 (104.7665, -88.9) -> (107.9415, -88.9)
  line L2 (107.9415, -88.9) -> (107.9415, -85.725)
  line L3 (107.9415, -85.725) -> (104.7665, -85.725)
  line L4 (104.7665, -85.725) -> (104.7665, -88.9)
  point P0 (0, 0)
  dimension "d123" = 3.175
  dimension "d124" = 3.175
extrude "Extrusion32" add sketch "Sketch33" along normal blind 3.175
sketch "Sketch34" plane through (0, 0, 3.175) normal (0, 0, 1) x (1, 0, 0)
  line L0 (107.9415, -85.725) -> (107.9415, -88.9) projected
  line L1 (107.9415, -88.9) -> (111.1165, -88.9)
  line L2 (111.1165, -88.9) -> (111.1165, 0)
  line L3 (111.1165, 0) -> (107.9415, 0)
  line L4 (107.9415, 0) -> (107.9415, -88.9)
  point P0 (0, 0)
  dimension "d127" = 3.175
  dimension "d128" = 88.9
extrude "Extrusion33" add sketch "Sketch34" along normal blind 3.175
sketch "Sketch35" plane through (0, 0, 3.175) normal (0, 0, 1) x (1, 0, 0)
  line L0 (111.1165, 0) -> (111.1165, -88.9) projected
  line L1 (111.1165, -88.9) -> (114.2915, -88.9)
  line L2 (114.2915, -88.9) -> (114.2915, -85.725)
  line L3 (114.2915, -85.725) -> (111.1165, -85.725)
  line L4 (111.1165, -85.725) -> (111.1165, -88.9)
  point P0 (0, 0)
  dimension "d131" = 3.175
  dimension "d132" = 3.175
extrude "Extrusion34" add sketch "Sketch35" along normal blind 3.175
pattern_linear "Rectangular Pattern1" count 2 spacing 6.35 along (1, 0, 0) of "Extrusion33"
pattern_linear "Rectangular Pattern2" count 2 spacing 6.35 along (1, 0, 0) of "Extrusion34"
pattern_linear "Rectangular Pattern3" count 2 spacing 12.7 along (1, 0, 0) of "Extrusion33", "Rectangular Pattern1"
pattern_linear "Rectangular Pattern4" count 2 spacing 12.7 along (1, 0, 0) of "Extrusion34", "Rectangular Pattern2"
pattern_linear "Rectangular Pattern5" count 2 spacing 25.4 along (1, 0, 0) of "Extrusion33", "Rectangular Pattern1", "Rectangular Pattern3"
pattern_linear "Rectangular Pattern6" count 2 spacing 25.4 along (1, 0, 0) of "Extrusion34", "Rectangular Pattern2", "Rectangular Pattern4"
pattern_linear "Rectangular Pattern7" count 2 spacing 57.15 along (1, 0, 0) of "Extrusion31"
pattern_linear "Rectangular Pattern8" count 2 spacing 76.2 along (1, 0, 0) of "Extrusion27"
pattern_linear "Rectangular Pattern9" count 2 spacing 50.8 along (1, 0, 0) of "Extrusion34", "Rectangular Pattern2", "Rectangular Pattern4"
pattern_linear "Rectangular Pattern10" count 2 spacing 88.9 along (1, 0, 0) of "Extrusion30"
pattern_linear "Rectangular Pattern11" count 2 spacing 114.3 along (1, 0, 0) of "Extrusion24"
pattern_linear "Rectangular Pattern12" count 2 spacing 63.5 along (1, 0, 0) of "Extrusion33", "Rectangular Pattern1", "Rectangular Pattern3"
pattern_linear "Rectangular Pattern13" count 2 spacing 107.95 along (1, 0, 0) of "Extrusion27"
properties part number "ModuleHolderReal"
